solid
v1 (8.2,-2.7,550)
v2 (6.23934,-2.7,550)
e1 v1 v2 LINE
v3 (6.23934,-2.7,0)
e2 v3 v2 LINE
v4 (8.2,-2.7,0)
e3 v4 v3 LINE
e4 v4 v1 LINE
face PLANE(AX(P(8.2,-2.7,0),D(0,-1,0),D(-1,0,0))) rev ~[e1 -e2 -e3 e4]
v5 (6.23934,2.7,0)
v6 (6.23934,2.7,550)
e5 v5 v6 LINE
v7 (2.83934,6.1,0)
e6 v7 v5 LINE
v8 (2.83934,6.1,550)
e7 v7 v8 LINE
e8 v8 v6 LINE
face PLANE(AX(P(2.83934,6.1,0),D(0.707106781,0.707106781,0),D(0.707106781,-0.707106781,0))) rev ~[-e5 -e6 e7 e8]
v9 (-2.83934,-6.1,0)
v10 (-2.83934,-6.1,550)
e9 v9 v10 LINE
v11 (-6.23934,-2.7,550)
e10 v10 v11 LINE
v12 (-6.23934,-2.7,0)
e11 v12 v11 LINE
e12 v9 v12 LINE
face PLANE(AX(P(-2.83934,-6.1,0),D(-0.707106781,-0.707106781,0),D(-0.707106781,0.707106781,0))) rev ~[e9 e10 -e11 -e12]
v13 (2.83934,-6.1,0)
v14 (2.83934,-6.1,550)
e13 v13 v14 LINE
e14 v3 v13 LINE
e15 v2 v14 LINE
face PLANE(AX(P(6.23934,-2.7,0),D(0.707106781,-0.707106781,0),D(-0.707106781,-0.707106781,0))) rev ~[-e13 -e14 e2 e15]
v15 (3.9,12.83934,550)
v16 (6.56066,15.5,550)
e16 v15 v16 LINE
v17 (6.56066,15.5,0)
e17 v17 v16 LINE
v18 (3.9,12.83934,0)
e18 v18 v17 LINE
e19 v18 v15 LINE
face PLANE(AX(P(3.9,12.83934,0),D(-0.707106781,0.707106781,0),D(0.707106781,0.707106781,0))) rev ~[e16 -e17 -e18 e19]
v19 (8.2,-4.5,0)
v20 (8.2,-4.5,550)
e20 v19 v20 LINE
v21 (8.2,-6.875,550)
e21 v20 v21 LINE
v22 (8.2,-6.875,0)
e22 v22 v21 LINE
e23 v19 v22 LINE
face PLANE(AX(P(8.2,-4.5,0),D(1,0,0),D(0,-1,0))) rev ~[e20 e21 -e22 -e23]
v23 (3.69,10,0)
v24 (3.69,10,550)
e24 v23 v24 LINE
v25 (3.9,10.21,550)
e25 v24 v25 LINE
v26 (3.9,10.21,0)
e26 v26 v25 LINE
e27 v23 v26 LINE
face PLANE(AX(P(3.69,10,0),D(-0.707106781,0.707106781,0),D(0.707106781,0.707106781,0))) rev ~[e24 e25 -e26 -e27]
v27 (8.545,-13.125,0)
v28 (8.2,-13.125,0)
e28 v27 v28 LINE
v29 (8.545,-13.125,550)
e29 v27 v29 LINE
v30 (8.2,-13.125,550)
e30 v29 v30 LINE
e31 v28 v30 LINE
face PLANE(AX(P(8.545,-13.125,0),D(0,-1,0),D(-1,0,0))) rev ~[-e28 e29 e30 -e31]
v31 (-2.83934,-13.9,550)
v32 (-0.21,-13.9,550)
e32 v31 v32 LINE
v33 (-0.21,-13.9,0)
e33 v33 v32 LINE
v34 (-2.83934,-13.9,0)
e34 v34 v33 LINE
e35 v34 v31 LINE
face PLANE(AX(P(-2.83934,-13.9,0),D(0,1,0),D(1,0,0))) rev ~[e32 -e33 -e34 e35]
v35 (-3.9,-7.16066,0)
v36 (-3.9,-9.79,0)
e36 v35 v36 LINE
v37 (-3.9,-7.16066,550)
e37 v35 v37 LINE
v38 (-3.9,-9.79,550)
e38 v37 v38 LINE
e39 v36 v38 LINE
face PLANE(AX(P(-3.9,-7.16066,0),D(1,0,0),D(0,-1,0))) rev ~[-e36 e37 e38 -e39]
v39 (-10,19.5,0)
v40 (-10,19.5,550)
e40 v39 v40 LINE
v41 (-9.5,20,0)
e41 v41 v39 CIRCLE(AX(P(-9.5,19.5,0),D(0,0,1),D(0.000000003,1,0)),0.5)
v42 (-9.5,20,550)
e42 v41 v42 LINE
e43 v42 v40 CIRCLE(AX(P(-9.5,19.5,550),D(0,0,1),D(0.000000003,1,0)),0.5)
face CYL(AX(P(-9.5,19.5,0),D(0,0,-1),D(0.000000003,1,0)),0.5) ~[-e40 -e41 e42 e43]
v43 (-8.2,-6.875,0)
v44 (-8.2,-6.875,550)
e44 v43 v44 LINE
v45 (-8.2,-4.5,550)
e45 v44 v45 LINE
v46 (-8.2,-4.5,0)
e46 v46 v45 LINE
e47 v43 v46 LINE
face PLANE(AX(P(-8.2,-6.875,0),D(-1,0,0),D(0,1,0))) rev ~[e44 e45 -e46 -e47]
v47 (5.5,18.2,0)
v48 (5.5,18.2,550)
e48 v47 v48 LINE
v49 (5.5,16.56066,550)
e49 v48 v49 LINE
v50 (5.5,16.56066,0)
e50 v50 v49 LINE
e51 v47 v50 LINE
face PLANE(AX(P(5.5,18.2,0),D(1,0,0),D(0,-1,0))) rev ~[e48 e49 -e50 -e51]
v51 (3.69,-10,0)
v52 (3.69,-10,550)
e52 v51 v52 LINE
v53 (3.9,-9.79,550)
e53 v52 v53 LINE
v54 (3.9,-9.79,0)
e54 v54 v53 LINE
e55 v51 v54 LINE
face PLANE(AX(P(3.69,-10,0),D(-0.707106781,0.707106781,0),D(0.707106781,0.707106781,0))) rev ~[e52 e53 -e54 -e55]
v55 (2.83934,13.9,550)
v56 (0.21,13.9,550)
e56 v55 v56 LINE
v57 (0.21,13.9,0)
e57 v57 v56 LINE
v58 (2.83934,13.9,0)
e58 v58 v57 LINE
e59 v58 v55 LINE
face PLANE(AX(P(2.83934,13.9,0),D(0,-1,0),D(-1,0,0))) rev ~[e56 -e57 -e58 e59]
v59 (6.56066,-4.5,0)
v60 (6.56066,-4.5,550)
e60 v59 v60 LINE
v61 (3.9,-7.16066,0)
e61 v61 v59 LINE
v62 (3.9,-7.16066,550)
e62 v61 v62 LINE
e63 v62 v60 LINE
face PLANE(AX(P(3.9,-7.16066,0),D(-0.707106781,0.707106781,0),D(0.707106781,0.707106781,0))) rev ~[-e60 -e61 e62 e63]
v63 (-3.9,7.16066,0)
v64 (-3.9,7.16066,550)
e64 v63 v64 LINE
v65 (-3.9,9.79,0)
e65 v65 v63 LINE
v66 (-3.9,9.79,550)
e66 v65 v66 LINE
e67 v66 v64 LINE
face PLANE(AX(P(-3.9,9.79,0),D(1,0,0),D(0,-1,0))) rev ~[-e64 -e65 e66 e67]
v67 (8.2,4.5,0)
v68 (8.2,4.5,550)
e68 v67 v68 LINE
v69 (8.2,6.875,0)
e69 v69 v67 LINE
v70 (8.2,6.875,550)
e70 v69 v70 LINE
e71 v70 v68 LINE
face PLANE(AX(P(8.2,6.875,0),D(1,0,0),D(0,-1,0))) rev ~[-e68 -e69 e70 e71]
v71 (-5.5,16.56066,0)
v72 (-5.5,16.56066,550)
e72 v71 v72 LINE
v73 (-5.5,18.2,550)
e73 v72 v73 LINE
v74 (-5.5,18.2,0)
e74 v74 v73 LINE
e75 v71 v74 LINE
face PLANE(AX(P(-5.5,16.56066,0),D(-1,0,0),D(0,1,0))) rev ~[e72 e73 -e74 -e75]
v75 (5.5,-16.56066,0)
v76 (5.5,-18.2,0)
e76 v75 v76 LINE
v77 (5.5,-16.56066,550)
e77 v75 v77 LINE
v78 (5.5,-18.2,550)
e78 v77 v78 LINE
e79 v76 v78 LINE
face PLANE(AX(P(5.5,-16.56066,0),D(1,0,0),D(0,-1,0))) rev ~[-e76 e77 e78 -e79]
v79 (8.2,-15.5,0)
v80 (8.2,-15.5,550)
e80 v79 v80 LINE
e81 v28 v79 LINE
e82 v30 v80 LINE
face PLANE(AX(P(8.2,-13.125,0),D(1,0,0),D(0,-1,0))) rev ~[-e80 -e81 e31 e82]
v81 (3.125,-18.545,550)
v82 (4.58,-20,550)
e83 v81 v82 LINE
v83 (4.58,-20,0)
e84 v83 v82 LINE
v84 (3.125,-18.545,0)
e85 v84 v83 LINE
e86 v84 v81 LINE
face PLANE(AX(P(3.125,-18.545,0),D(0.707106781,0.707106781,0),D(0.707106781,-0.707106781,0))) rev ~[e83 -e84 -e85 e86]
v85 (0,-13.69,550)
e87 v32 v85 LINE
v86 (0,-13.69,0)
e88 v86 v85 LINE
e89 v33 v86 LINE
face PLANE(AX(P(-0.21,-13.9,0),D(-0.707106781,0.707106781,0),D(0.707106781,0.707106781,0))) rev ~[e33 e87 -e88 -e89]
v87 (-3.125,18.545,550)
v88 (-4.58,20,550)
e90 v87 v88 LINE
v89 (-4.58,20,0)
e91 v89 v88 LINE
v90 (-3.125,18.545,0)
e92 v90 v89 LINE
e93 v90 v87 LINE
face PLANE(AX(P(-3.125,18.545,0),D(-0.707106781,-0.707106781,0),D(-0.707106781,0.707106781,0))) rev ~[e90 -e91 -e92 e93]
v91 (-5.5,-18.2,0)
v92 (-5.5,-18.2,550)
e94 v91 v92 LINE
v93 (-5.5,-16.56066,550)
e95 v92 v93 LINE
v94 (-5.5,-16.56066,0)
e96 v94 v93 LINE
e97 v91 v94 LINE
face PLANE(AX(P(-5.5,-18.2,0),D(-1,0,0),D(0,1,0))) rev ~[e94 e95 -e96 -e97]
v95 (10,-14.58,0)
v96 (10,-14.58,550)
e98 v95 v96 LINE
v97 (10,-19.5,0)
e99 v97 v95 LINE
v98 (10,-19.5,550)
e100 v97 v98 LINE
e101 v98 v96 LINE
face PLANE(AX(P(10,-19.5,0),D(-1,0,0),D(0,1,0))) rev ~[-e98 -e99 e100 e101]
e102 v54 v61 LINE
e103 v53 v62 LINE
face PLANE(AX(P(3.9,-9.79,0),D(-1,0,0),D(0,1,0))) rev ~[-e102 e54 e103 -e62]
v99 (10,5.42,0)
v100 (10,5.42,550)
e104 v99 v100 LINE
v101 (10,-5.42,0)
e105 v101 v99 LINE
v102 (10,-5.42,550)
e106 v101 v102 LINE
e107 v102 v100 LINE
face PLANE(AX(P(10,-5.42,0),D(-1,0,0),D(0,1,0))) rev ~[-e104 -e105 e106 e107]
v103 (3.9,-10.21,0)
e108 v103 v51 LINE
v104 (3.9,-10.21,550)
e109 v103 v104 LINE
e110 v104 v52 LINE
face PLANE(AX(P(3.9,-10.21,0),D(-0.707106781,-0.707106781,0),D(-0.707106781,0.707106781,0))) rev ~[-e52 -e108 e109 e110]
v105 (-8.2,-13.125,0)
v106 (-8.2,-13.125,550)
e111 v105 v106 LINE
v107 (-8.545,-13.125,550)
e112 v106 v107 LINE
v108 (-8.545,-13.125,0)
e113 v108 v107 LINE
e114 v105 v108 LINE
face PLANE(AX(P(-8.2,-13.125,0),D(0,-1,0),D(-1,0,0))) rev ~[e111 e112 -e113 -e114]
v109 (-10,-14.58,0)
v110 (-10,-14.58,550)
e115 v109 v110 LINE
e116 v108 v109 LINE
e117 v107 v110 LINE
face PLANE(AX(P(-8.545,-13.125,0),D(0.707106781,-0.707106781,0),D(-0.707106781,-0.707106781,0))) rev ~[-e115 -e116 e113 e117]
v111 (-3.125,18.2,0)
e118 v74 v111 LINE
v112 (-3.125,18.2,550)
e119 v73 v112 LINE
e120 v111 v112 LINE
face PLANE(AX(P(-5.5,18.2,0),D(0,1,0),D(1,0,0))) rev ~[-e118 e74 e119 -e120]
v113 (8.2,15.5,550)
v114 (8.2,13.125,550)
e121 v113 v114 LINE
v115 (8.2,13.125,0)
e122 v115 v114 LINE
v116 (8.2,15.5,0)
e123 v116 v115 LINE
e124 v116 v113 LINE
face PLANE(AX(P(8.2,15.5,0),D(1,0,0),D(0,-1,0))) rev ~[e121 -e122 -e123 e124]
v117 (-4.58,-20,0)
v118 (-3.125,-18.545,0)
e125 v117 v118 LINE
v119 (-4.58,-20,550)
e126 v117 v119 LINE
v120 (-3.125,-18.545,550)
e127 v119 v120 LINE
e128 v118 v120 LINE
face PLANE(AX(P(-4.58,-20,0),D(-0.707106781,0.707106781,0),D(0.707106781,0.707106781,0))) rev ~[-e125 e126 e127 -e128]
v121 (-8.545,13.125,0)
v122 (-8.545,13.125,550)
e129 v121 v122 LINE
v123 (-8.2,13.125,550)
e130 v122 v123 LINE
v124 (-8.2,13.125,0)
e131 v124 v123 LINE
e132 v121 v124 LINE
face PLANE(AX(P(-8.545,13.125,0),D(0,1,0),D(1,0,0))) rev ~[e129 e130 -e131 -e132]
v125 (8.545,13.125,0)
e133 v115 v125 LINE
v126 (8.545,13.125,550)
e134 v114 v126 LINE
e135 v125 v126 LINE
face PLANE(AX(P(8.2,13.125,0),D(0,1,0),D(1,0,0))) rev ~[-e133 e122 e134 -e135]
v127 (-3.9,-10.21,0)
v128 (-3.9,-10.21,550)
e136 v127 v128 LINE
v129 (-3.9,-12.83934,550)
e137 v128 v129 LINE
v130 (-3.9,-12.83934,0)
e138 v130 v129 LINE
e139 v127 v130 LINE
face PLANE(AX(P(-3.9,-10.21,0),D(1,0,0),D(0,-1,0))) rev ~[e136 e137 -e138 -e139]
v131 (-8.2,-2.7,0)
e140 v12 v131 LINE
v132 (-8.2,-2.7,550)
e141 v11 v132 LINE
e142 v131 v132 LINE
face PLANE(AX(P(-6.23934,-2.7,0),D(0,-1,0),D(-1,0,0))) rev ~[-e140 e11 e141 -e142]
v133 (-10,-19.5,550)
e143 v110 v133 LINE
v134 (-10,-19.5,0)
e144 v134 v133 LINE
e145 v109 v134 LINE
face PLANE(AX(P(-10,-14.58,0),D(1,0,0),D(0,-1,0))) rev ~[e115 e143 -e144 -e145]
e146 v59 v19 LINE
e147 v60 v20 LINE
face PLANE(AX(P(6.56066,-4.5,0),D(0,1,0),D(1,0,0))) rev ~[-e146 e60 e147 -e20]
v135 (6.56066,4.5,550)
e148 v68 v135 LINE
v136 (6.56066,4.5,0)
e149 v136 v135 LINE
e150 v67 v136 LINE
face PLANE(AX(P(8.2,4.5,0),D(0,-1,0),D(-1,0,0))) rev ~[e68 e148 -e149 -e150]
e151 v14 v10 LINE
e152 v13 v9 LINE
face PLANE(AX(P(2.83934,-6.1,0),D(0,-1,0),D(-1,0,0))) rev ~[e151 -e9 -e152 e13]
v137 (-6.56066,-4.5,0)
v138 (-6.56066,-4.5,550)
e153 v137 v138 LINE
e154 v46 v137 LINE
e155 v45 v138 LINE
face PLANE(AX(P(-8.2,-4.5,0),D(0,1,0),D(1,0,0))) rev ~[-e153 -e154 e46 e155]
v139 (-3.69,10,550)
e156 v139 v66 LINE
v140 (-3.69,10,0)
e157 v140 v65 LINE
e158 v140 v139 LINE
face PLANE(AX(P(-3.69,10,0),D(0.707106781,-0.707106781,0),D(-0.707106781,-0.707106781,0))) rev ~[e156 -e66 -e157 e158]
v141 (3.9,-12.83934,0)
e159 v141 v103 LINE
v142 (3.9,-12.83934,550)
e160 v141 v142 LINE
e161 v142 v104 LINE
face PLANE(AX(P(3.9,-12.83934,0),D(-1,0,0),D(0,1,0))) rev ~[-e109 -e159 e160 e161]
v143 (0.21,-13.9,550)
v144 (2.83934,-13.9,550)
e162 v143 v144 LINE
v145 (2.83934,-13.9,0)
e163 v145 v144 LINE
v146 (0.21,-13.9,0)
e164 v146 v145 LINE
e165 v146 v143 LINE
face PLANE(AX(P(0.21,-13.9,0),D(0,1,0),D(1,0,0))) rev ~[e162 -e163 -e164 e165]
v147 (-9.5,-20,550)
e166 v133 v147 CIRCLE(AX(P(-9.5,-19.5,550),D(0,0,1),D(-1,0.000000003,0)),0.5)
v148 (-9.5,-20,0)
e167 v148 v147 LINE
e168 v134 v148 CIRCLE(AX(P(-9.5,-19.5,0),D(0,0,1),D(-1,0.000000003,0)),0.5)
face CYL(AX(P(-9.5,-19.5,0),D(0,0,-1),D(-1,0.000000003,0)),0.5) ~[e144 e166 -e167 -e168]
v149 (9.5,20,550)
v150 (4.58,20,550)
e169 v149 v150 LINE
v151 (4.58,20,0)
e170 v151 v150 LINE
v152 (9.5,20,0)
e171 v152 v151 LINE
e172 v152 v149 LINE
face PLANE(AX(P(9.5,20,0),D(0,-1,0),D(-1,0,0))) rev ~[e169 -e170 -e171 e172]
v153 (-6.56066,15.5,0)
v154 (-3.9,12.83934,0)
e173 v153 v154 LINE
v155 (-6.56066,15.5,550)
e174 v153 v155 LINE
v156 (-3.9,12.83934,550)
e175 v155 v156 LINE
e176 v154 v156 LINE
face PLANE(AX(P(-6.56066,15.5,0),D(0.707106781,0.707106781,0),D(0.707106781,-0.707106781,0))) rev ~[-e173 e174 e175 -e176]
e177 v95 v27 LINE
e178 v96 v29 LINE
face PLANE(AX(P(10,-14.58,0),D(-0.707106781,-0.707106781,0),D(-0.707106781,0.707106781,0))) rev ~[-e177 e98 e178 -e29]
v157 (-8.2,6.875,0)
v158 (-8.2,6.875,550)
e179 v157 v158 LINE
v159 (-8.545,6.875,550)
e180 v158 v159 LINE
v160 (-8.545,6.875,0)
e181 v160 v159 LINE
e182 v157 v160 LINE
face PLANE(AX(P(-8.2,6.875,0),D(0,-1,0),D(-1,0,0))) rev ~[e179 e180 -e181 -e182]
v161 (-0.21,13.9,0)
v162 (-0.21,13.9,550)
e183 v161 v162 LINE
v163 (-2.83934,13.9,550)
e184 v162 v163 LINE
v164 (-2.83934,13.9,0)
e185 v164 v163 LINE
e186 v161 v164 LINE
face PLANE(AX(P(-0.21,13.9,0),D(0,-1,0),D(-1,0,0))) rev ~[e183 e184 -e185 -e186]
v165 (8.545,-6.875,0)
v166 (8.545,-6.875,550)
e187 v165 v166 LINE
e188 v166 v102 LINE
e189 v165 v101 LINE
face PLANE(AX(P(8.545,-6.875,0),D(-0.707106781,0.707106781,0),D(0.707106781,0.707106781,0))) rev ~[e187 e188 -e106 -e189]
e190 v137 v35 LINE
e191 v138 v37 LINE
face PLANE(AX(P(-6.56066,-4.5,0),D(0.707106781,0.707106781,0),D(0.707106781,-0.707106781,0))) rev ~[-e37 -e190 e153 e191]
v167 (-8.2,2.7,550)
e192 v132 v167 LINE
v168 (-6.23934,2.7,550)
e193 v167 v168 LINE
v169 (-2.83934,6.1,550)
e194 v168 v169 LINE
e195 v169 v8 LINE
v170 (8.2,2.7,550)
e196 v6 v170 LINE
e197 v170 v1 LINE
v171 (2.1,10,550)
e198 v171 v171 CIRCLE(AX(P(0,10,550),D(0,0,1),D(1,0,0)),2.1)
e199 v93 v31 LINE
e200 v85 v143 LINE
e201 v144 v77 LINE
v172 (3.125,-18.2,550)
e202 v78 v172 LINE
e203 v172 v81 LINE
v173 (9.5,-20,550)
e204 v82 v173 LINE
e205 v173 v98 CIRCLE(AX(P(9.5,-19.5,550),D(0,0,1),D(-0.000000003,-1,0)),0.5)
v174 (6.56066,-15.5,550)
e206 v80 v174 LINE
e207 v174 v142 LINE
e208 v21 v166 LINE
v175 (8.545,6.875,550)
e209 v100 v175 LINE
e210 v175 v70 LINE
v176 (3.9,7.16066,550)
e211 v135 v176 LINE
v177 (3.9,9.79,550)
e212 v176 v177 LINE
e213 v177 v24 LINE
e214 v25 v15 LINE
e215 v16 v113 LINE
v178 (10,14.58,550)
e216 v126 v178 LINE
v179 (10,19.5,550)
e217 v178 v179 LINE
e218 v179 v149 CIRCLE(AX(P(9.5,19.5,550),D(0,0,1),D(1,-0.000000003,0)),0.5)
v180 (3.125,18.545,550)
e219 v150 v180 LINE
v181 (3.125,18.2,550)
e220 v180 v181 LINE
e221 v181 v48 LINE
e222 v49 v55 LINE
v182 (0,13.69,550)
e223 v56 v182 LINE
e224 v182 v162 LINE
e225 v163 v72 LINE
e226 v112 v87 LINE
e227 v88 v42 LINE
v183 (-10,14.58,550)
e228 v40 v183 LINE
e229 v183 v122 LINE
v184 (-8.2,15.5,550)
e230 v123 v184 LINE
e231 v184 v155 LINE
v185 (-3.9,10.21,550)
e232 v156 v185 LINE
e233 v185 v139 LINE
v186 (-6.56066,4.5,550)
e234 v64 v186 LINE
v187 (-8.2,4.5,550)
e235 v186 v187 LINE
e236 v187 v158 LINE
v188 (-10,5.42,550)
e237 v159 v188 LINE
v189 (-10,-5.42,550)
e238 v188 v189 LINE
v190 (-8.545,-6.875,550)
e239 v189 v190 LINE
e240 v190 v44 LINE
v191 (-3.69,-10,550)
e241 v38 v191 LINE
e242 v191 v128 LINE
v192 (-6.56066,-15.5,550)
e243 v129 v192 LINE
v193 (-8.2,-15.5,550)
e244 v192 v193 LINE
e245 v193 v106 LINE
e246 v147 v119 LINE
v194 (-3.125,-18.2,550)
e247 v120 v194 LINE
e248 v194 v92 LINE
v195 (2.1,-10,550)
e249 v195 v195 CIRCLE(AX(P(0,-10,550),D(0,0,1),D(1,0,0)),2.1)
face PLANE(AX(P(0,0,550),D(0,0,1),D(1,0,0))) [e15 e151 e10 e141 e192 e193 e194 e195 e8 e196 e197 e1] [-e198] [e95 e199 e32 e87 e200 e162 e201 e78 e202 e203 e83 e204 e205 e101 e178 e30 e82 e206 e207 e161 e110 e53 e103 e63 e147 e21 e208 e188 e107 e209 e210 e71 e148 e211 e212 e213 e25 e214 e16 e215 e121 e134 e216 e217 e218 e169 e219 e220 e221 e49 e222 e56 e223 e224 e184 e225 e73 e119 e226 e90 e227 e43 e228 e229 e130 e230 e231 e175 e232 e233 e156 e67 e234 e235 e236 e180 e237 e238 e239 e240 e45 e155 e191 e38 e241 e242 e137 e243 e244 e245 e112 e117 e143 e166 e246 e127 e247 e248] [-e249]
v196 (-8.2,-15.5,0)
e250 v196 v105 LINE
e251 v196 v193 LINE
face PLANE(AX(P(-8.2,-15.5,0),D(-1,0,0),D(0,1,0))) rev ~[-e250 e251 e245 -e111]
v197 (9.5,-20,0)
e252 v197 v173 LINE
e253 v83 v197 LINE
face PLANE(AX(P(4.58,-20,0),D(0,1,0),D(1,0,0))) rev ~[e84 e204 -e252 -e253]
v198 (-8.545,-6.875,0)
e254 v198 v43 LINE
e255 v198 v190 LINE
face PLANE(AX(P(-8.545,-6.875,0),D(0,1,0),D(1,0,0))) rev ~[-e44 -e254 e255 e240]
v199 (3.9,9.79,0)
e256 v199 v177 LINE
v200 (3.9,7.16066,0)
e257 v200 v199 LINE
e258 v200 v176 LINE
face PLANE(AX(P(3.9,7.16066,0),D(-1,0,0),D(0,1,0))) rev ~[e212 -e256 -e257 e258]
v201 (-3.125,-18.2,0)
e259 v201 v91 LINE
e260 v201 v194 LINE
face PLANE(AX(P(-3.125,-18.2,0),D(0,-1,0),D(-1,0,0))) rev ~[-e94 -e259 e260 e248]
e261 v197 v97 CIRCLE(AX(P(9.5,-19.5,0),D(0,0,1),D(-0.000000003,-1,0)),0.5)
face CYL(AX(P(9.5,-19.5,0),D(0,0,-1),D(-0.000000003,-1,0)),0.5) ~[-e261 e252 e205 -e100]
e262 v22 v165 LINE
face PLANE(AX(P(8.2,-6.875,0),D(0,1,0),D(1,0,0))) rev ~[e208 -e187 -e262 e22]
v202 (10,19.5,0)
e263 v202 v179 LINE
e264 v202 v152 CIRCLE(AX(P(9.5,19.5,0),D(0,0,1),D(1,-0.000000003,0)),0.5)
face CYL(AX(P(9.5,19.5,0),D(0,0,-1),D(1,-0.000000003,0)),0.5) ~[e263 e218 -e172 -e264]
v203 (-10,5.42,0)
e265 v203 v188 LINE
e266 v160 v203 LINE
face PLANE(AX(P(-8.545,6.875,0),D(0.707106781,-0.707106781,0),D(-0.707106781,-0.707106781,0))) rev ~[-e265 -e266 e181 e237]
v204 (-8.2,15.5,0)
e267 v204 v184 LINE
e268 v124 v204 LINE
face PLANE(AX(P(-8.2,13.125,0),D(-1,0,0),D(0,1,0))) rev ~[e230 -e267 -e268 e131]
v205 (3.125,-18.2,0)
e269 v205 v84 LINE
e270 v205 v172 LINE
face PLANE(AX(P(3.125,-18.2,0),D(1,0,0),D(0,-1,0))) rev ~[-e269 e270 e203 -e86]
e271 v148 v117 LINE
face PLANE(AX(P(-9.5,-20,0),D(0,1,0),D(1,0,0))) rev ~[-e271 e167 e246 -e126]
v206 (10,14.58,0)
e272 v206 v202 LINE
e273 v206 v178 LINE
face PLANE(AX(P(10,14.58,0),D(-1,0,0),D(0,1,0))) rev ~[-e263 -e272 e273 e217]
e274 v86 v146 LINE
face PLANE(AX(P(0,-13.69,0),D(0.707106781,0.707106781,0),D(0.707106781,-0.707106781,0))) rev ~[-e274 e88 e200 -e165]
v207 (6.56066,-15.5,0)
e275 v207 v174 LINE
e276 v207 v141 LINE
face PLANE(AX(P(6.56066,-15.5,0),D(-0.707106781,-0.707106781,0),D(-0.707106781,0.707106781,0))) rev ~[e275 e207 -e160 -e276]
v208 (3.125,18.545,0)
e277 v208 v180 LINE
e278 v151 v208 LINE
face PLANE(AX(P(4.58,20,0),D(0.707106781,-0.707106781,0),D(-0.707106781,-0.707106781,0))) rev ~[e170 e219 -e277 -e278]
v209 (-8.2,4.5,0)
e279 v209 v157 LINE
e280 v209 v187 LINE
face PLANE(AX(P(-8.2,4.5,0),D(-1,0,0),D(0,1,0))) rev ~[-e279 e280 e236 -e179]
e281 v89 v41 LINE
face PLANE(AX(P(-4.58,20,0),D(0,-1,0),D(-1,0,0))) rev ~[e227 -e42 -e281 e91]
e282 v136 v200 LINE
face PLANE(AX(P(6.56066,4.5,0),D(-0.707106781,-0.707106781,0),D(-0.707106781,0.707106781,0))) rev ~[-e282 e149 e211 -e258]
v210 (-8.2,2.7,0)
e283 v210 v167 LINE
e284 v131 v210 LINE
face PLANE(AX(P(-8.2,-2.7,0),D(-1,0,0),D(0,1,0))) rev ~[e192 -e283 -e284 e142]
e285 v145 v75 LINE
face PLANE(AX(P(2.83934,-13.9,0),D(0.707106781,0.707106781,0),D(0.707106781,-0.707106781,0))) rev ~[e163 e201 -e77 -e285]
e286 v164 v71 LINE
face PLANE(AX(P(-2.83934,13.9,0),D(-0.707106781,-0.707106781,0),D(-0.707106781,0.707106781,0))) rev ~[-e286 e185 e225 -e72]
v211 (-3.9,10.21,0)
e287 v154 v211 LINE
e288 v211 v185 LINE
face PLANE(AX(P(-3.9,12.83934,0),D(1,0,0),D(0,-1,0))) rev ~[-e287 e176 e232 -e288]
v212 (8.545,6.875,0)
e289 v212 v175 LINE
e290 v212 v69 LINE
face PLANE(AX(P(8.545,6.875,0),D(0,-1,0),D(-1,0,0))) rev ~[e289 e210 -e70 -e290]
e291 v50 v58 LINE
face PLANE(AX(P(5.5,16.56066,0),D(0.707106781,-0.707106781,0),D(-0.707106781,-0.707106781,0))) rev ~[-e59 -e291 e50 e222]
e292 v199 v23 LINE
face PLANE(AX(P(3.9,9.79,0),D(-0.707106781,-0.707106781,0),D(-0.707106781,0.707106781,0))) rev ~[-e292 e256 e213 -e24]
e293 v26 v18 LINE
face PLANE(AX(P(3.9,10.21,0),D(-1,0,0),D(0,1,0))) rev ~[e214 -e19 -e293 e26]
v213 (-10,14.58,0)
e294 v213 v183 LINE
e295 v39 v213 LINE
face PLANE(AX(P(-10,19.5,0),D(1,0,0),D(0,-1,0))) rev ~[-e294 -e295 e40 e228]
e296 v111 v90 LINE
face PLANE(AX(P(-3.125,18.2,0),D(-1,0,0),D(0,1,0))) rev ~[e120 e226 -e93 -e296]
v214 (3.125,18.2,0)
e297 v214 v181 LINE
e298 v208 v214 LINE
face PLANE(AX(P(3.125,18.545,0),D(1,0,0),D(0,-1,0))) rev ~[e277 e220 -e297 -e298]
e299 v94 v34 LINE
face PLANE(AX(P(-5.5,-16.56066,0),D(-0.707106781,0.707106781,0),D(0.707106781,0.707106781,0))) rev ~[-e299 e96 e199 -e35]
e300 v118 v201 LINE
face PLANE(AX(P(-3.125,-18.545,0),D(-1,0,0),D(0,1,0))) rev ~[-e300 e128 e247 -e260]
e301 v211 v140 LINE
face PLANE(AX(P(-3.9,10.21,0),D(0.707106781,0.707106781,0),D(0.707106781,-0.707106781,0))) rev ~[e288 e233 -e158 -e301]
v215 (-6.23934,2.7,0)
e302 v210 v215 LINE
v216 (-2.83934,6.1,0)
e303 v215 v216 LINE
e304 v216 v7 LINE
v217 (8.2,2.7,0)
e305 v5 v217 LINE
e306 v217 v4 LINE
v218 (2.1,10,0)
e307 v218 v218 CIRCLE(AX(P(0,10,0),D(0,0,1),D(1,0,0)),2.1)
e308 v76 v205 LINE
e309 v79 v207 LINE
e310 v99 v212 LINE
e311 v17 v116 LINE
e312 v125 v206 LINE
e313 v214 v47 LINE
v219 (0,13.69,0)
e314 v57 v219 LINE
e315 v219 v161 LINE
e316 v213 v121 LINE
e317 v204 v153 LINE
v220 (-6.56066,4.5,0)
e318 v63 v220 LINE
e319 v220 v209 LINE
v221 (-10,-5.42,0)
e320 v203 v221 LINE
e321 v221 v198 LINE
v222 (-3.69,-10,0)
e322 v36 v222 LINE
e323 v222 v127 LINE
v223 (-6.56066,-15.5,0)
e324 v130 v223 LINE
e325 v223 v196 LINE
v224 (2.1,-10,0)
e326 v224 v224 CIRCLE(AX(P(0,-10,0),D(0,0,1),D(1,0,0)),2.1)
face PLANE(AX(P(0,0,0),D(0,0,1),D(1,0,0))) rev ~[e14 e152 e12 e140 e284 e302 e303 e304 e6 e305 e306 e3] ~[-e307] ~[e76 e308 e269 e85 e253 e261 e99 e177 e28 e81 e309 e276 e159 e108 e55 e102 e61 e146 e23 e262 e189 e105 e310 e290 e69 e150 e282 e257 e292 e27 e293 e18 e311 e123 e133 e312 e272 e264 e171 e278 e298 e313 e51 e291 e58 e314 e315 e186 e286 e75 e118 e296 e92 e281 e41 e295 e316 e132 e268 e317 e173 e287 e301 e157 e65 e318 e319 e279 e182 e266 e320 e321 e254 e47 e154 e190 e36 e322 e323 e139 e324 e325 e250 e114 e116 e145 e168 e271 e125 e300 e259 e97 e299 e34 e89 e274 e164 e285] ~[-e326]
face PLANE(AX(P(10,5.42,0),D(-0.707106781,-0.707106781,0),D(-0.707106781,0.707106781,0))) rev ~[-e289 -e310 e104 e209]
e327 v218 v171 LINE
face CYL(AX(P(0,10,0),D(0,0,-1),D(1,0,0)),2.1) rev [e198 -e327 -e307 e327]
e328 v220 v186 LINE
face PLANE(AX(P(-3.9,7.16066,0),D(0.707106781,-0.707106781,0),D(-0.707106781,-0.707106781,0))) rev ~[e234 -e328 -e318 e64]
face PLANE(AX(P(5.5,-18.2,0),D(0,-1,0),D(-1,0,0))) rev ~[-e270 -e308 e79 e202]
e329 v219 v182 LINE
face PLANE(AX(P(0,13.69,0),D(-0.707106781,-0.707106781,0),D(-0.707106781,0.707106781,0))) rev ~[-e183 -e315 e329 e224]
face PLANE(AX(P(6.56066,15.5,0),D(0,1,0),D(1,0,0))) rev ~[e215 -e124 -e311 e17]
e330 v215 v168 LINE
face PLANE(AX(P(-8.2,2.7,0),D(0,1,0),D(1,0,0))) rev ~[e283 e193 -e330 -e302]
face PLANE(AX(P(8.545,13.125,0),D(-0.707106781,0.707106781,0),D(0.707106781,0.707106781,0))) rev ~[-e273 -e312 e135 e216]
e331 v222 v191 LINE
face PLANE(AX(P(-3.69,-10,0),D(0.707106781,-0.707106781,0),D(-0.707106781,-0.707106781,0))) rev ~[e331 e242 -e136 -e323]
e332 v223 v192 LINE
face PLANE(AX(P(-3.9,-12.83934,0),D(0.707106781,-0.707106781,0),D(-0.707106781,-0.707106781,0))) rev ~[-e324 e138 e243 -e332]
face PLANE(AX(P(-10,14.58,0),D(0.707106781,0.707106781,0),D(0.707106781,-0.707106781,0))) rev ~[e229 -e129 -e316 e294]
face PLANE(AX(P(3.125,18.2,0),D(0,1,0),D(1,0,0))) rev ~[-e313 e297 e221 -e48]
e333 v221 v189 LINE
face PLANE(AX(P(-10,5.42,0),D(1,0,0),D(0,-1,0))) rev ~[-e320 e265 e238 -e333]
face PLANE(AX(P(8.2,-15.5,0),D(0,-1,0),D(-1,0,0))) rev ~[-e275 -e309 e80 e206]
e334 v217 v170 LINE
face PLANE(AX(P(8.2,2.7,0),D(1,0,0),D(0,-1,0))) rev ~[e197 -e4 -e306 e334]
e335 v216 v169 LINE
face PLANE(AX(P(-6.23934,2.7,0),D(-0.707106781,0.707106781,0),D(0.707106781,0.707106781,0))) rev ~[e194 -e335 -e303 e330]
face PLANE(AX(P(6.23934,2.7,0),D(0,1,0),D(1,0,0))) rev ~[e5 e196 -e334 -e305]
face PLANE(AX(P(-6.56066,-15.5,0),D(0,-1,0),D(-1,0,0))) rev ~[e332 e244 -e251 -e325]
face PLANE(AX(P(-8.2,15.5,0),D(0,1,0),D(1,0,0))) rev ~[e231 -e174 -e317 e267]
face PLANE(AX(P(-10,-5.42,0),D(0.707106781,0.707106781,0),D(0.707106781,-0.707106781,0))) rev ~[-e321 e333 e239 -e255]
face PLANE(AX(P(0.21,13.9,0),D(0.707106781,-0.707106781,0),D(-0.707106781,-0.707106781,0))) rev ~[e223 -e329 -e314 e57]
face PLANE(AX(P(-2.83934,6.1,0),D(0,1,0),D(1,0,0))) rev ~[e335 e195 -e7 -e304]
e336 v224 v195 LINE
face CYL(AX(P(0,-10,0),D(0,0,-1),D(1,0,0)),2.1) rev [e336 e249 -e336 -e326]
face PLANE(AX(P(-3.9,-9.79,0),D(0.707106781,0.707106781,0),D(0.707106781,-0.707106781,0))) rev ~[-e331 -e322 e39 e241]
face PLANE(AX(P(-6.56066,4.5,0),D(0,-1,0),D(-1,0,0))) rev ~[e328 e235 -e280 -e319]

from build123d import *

# Parameters (mm, degrees)
SKETCH1_R           = 2.1
BOSS_EXTRUDE1_DEPTH = 550


with BuildPart() as part:
    # Sketch1 → Boss-Extrude1 (new body)
    with BuildSketch(Plane.XY):
        with BuildLine():
            Line((4.58, -20), (9.5, -20))
            ThreePointArc((9.5, -20), (9.853553391, -19.853553391), (10, -19.5))
            Line((10, -19.5), (10, -14.58))
            Line((10, -14.58), (8.545, -13.125))
            Line((8.545, -13.125), (8.2, -13.125))
            Line((8.2, -13.125), (8.2, -15.5))
            Line((8.2, -15.5), (6.560660172, -15.5))
            Line((6.560660172, -15.5), (3.9, -12.839339828))
            Line((3.9, -12.839339828), (3.9, -10.21))
            Line((3.9, -10.21), (3.69, -10))
            Line((3.69, -10), (3.9, -9.79))
            Line((3.9, -9.79), (3.9, -7.160660172))
            Line((3.9, -7.160660172), (6.560660172, -4.5))
            Line((6.560660172, -4.5), (8.2, -4.5))
            Line((8.2, -4.5), (8.2, -6.875))
            Line((8.2, -6.875), (8.545, -6.875))
            Line((8.545, -6.875), (10, -5.42))
            Line((10, -5.42), (10, 5.42))
            Line((10, 5.42), (8.545, 6.875))
            Line((8.545, 6.875), (8.2, 6.875))
            Line((8.2, 6.875), (8.2, 4.5))
            Line((8.2, 4.5), (6.560660172, 4.5))
            Line((6.560660172, 4.5), (3.9, 7.160660172))
            Line((3.9, 7.160660172), (3.9, 9.79))
            Line((3.9, 9.79), (3.69, 10))
            Line((3.69, 10), (3.9, 10.21))
            Line((3.9, 10.21), (3.9, 12.839339828))
            Line((3.9, 12.839339828), (6.560660172, 15.5))
            Line((6.560660172, 15.5), (8.2, 15.5))
            Line((8.2, 15.5), (8.2, 13.125))
            Line((8.2, 13.125), (8.545, 13.125))
            Line((8.545, 13.125), (10, 14.58))
            Line((10, 14.58), (10, 19.5))
            ThreePointArc((10, 19.5), (9.853553391, 19.853553391), (9.5, 20))
            Line((9.5, 20), (4.58, 20))
            Line((4.58, 20), (3.125, 18.545))
            Line((3.125, 18.545), (3.125, 18.2))
            Line((3.125, 18.2), (5.5, 18.2))
            Line((5.5, 18.2), (5.5, 16.560660172))
            Line((5.5, 16.560660172), (2.839339828, 13.9))
            Line((2.839339828, 13.9), (0.21, 13.9))
            Line((0.21, 13.9), (0, 13.69))
            Line((0, 13.69), (-0.21, 13.9))
            Line((-0.21, 13.9), (-2.839339828, 13.9))
            Line((-2.839339828, 13.9), (-5.5, 16.560660172))
            Line((-5.5, 16.560660172), (-5.5, 18.2))
            Line((-5.5, 18.2), (-3.125, 18.2))
            Line((-3.125, 18.2), (-3.125, 18.545))
            Line((-3.125, 18.545), (-4.58, 20))
            Line((-4.58, 20), (-9.5, 20))
            ThreePointArc((-9.5, 20), (-9.853553391, 19.853553391), (-10, 19.5))
            Line((-10, 19.5), (-10, 14.58))
            Line((-10, 14.58), (-8.545, 13.125))
            Line((-8.545, 13.125), (-8.2, 13.125))
            Line((-8.2, 13.125), (-8.2, 15.5))
            Line((-8.2, 15.5), (-6.560660172, 15.5))
            Line((-6.560660172, 15.5), (-3.9, 12.839339828))
            Line((-3.9, 12.839339828), (-3.9, 10.21))
            Line((-3.9, 10.21), (-3.69, 10))
            Line((-3.69, 10), (-3.9, 9.79))
            Line((-3.9, 9.79), (-3.9, 7.160660172))
            Line((-3.9, 7.160660172), (-6.560660172, 4.5))
            Line((-6.560660172, 4.5), (-8.2, 4.5))
            Line((-8.2, 4.5), (-8.2, 6.875))
            Line((-8.2, 6.875), (-8.545, 6.875))
            Line((-8.545, 6.875), (-10, 5.42))
            Line((-10, 5.42), (-10, -5.42))
            Line((-10, -5.42), (-8.545, -6.875))
            Line((-8.545, -6.875), (-8.2, -6.875))
            Line((-8.2, -6.875), (-8.2, -4.5))
            Line((-8.2, -4.5), (-6.560660172, -4.5))
            Line((-6.560660172, -4.5), (-3.9, -7.160660172))
            Line((-3.9, -7.160660172), (-3.9, -9.79))
            Line((-3.9, -9.79), (-3.69, -10))
            Line((-3.69, -10), (-3.9, -10.21))
            Line((-3.9, -10.21), (-3.9, -12.839339828))
            Line((-3.9, -12.839339828), (-6.560660172, -15.5))
            Line((-6.560660172, -15.5), (-8.2, -15.5))
            Line((-8.2, -15.5), (-8.2, -13.125))
            Line((-8.2, -13.125), (-8.545, -13.125))
            Line((-8.545, -13.125), (-10, -14.58))
            Line((-10, -14.58), (-10, -19.5))
            ThreePointArc((-10, -19.5), (-9.853553391, -19.853553391), (-9.5, -20))
            Line((-9.5, -20), (-4.58, -20))
            Line((-4.58, -20), (-3.125, -18.545))
            Line((-3.125, -18.545), (-3.125, -18.2))
            Line((-3.125, -18.2), (-5.5, -18.2))
            Line((-5.5, -18.2), (-5.5, -16.560660172))
            Line((-5.5, -16.560660172), (-2.839339828, -13.9))
            Line((-2.839339828, -13.9), (-0.21, -13.9))
            Line((-0.21, -13.9), (0, -13.69))
            Line((0, -13.69), (0.21, -13.9))
            Line((0.21, -13.9), (2.839339828, -13.9))
            Line((2.839339828, -13.9), (5.5, -16.560660172))
            Line((5.5, -16.560660172), (5.5, -18.2))
            Line((5.5, -18.2), (3.125, -18.2))
            Line((3.125, -18.2), (3.125, -18.545))
            Line((3.125, -18.545), (4.58, -20))
        make_face()
        with Locations((0, -10)):
            Circle(SKETCH1_R, mode=Mode.SUBTRACT)
        Polygon((-6.239339828, -2.7), (-8.2, -2.7), (-8.2, 2.7), (-6.239339828, 2.7), (-2.839339828, 6.1), (2.839339828, 6.1), (6.239339828, 2.7), (8.2, 2.7), (8.2, -2.7), (6.239339828, -2.7), (2.839339828, -6.1), (-2.839339828, -6.1), align=None, mode=Mode.SUBTRACT)
        with Locations((0, 10)):
            Circle(SKETCH1_R, mode=Mode.SUBTRACT)
    extrude(amount=BOSS_EXTRUDE1_DEPTH)


solid = part.part
